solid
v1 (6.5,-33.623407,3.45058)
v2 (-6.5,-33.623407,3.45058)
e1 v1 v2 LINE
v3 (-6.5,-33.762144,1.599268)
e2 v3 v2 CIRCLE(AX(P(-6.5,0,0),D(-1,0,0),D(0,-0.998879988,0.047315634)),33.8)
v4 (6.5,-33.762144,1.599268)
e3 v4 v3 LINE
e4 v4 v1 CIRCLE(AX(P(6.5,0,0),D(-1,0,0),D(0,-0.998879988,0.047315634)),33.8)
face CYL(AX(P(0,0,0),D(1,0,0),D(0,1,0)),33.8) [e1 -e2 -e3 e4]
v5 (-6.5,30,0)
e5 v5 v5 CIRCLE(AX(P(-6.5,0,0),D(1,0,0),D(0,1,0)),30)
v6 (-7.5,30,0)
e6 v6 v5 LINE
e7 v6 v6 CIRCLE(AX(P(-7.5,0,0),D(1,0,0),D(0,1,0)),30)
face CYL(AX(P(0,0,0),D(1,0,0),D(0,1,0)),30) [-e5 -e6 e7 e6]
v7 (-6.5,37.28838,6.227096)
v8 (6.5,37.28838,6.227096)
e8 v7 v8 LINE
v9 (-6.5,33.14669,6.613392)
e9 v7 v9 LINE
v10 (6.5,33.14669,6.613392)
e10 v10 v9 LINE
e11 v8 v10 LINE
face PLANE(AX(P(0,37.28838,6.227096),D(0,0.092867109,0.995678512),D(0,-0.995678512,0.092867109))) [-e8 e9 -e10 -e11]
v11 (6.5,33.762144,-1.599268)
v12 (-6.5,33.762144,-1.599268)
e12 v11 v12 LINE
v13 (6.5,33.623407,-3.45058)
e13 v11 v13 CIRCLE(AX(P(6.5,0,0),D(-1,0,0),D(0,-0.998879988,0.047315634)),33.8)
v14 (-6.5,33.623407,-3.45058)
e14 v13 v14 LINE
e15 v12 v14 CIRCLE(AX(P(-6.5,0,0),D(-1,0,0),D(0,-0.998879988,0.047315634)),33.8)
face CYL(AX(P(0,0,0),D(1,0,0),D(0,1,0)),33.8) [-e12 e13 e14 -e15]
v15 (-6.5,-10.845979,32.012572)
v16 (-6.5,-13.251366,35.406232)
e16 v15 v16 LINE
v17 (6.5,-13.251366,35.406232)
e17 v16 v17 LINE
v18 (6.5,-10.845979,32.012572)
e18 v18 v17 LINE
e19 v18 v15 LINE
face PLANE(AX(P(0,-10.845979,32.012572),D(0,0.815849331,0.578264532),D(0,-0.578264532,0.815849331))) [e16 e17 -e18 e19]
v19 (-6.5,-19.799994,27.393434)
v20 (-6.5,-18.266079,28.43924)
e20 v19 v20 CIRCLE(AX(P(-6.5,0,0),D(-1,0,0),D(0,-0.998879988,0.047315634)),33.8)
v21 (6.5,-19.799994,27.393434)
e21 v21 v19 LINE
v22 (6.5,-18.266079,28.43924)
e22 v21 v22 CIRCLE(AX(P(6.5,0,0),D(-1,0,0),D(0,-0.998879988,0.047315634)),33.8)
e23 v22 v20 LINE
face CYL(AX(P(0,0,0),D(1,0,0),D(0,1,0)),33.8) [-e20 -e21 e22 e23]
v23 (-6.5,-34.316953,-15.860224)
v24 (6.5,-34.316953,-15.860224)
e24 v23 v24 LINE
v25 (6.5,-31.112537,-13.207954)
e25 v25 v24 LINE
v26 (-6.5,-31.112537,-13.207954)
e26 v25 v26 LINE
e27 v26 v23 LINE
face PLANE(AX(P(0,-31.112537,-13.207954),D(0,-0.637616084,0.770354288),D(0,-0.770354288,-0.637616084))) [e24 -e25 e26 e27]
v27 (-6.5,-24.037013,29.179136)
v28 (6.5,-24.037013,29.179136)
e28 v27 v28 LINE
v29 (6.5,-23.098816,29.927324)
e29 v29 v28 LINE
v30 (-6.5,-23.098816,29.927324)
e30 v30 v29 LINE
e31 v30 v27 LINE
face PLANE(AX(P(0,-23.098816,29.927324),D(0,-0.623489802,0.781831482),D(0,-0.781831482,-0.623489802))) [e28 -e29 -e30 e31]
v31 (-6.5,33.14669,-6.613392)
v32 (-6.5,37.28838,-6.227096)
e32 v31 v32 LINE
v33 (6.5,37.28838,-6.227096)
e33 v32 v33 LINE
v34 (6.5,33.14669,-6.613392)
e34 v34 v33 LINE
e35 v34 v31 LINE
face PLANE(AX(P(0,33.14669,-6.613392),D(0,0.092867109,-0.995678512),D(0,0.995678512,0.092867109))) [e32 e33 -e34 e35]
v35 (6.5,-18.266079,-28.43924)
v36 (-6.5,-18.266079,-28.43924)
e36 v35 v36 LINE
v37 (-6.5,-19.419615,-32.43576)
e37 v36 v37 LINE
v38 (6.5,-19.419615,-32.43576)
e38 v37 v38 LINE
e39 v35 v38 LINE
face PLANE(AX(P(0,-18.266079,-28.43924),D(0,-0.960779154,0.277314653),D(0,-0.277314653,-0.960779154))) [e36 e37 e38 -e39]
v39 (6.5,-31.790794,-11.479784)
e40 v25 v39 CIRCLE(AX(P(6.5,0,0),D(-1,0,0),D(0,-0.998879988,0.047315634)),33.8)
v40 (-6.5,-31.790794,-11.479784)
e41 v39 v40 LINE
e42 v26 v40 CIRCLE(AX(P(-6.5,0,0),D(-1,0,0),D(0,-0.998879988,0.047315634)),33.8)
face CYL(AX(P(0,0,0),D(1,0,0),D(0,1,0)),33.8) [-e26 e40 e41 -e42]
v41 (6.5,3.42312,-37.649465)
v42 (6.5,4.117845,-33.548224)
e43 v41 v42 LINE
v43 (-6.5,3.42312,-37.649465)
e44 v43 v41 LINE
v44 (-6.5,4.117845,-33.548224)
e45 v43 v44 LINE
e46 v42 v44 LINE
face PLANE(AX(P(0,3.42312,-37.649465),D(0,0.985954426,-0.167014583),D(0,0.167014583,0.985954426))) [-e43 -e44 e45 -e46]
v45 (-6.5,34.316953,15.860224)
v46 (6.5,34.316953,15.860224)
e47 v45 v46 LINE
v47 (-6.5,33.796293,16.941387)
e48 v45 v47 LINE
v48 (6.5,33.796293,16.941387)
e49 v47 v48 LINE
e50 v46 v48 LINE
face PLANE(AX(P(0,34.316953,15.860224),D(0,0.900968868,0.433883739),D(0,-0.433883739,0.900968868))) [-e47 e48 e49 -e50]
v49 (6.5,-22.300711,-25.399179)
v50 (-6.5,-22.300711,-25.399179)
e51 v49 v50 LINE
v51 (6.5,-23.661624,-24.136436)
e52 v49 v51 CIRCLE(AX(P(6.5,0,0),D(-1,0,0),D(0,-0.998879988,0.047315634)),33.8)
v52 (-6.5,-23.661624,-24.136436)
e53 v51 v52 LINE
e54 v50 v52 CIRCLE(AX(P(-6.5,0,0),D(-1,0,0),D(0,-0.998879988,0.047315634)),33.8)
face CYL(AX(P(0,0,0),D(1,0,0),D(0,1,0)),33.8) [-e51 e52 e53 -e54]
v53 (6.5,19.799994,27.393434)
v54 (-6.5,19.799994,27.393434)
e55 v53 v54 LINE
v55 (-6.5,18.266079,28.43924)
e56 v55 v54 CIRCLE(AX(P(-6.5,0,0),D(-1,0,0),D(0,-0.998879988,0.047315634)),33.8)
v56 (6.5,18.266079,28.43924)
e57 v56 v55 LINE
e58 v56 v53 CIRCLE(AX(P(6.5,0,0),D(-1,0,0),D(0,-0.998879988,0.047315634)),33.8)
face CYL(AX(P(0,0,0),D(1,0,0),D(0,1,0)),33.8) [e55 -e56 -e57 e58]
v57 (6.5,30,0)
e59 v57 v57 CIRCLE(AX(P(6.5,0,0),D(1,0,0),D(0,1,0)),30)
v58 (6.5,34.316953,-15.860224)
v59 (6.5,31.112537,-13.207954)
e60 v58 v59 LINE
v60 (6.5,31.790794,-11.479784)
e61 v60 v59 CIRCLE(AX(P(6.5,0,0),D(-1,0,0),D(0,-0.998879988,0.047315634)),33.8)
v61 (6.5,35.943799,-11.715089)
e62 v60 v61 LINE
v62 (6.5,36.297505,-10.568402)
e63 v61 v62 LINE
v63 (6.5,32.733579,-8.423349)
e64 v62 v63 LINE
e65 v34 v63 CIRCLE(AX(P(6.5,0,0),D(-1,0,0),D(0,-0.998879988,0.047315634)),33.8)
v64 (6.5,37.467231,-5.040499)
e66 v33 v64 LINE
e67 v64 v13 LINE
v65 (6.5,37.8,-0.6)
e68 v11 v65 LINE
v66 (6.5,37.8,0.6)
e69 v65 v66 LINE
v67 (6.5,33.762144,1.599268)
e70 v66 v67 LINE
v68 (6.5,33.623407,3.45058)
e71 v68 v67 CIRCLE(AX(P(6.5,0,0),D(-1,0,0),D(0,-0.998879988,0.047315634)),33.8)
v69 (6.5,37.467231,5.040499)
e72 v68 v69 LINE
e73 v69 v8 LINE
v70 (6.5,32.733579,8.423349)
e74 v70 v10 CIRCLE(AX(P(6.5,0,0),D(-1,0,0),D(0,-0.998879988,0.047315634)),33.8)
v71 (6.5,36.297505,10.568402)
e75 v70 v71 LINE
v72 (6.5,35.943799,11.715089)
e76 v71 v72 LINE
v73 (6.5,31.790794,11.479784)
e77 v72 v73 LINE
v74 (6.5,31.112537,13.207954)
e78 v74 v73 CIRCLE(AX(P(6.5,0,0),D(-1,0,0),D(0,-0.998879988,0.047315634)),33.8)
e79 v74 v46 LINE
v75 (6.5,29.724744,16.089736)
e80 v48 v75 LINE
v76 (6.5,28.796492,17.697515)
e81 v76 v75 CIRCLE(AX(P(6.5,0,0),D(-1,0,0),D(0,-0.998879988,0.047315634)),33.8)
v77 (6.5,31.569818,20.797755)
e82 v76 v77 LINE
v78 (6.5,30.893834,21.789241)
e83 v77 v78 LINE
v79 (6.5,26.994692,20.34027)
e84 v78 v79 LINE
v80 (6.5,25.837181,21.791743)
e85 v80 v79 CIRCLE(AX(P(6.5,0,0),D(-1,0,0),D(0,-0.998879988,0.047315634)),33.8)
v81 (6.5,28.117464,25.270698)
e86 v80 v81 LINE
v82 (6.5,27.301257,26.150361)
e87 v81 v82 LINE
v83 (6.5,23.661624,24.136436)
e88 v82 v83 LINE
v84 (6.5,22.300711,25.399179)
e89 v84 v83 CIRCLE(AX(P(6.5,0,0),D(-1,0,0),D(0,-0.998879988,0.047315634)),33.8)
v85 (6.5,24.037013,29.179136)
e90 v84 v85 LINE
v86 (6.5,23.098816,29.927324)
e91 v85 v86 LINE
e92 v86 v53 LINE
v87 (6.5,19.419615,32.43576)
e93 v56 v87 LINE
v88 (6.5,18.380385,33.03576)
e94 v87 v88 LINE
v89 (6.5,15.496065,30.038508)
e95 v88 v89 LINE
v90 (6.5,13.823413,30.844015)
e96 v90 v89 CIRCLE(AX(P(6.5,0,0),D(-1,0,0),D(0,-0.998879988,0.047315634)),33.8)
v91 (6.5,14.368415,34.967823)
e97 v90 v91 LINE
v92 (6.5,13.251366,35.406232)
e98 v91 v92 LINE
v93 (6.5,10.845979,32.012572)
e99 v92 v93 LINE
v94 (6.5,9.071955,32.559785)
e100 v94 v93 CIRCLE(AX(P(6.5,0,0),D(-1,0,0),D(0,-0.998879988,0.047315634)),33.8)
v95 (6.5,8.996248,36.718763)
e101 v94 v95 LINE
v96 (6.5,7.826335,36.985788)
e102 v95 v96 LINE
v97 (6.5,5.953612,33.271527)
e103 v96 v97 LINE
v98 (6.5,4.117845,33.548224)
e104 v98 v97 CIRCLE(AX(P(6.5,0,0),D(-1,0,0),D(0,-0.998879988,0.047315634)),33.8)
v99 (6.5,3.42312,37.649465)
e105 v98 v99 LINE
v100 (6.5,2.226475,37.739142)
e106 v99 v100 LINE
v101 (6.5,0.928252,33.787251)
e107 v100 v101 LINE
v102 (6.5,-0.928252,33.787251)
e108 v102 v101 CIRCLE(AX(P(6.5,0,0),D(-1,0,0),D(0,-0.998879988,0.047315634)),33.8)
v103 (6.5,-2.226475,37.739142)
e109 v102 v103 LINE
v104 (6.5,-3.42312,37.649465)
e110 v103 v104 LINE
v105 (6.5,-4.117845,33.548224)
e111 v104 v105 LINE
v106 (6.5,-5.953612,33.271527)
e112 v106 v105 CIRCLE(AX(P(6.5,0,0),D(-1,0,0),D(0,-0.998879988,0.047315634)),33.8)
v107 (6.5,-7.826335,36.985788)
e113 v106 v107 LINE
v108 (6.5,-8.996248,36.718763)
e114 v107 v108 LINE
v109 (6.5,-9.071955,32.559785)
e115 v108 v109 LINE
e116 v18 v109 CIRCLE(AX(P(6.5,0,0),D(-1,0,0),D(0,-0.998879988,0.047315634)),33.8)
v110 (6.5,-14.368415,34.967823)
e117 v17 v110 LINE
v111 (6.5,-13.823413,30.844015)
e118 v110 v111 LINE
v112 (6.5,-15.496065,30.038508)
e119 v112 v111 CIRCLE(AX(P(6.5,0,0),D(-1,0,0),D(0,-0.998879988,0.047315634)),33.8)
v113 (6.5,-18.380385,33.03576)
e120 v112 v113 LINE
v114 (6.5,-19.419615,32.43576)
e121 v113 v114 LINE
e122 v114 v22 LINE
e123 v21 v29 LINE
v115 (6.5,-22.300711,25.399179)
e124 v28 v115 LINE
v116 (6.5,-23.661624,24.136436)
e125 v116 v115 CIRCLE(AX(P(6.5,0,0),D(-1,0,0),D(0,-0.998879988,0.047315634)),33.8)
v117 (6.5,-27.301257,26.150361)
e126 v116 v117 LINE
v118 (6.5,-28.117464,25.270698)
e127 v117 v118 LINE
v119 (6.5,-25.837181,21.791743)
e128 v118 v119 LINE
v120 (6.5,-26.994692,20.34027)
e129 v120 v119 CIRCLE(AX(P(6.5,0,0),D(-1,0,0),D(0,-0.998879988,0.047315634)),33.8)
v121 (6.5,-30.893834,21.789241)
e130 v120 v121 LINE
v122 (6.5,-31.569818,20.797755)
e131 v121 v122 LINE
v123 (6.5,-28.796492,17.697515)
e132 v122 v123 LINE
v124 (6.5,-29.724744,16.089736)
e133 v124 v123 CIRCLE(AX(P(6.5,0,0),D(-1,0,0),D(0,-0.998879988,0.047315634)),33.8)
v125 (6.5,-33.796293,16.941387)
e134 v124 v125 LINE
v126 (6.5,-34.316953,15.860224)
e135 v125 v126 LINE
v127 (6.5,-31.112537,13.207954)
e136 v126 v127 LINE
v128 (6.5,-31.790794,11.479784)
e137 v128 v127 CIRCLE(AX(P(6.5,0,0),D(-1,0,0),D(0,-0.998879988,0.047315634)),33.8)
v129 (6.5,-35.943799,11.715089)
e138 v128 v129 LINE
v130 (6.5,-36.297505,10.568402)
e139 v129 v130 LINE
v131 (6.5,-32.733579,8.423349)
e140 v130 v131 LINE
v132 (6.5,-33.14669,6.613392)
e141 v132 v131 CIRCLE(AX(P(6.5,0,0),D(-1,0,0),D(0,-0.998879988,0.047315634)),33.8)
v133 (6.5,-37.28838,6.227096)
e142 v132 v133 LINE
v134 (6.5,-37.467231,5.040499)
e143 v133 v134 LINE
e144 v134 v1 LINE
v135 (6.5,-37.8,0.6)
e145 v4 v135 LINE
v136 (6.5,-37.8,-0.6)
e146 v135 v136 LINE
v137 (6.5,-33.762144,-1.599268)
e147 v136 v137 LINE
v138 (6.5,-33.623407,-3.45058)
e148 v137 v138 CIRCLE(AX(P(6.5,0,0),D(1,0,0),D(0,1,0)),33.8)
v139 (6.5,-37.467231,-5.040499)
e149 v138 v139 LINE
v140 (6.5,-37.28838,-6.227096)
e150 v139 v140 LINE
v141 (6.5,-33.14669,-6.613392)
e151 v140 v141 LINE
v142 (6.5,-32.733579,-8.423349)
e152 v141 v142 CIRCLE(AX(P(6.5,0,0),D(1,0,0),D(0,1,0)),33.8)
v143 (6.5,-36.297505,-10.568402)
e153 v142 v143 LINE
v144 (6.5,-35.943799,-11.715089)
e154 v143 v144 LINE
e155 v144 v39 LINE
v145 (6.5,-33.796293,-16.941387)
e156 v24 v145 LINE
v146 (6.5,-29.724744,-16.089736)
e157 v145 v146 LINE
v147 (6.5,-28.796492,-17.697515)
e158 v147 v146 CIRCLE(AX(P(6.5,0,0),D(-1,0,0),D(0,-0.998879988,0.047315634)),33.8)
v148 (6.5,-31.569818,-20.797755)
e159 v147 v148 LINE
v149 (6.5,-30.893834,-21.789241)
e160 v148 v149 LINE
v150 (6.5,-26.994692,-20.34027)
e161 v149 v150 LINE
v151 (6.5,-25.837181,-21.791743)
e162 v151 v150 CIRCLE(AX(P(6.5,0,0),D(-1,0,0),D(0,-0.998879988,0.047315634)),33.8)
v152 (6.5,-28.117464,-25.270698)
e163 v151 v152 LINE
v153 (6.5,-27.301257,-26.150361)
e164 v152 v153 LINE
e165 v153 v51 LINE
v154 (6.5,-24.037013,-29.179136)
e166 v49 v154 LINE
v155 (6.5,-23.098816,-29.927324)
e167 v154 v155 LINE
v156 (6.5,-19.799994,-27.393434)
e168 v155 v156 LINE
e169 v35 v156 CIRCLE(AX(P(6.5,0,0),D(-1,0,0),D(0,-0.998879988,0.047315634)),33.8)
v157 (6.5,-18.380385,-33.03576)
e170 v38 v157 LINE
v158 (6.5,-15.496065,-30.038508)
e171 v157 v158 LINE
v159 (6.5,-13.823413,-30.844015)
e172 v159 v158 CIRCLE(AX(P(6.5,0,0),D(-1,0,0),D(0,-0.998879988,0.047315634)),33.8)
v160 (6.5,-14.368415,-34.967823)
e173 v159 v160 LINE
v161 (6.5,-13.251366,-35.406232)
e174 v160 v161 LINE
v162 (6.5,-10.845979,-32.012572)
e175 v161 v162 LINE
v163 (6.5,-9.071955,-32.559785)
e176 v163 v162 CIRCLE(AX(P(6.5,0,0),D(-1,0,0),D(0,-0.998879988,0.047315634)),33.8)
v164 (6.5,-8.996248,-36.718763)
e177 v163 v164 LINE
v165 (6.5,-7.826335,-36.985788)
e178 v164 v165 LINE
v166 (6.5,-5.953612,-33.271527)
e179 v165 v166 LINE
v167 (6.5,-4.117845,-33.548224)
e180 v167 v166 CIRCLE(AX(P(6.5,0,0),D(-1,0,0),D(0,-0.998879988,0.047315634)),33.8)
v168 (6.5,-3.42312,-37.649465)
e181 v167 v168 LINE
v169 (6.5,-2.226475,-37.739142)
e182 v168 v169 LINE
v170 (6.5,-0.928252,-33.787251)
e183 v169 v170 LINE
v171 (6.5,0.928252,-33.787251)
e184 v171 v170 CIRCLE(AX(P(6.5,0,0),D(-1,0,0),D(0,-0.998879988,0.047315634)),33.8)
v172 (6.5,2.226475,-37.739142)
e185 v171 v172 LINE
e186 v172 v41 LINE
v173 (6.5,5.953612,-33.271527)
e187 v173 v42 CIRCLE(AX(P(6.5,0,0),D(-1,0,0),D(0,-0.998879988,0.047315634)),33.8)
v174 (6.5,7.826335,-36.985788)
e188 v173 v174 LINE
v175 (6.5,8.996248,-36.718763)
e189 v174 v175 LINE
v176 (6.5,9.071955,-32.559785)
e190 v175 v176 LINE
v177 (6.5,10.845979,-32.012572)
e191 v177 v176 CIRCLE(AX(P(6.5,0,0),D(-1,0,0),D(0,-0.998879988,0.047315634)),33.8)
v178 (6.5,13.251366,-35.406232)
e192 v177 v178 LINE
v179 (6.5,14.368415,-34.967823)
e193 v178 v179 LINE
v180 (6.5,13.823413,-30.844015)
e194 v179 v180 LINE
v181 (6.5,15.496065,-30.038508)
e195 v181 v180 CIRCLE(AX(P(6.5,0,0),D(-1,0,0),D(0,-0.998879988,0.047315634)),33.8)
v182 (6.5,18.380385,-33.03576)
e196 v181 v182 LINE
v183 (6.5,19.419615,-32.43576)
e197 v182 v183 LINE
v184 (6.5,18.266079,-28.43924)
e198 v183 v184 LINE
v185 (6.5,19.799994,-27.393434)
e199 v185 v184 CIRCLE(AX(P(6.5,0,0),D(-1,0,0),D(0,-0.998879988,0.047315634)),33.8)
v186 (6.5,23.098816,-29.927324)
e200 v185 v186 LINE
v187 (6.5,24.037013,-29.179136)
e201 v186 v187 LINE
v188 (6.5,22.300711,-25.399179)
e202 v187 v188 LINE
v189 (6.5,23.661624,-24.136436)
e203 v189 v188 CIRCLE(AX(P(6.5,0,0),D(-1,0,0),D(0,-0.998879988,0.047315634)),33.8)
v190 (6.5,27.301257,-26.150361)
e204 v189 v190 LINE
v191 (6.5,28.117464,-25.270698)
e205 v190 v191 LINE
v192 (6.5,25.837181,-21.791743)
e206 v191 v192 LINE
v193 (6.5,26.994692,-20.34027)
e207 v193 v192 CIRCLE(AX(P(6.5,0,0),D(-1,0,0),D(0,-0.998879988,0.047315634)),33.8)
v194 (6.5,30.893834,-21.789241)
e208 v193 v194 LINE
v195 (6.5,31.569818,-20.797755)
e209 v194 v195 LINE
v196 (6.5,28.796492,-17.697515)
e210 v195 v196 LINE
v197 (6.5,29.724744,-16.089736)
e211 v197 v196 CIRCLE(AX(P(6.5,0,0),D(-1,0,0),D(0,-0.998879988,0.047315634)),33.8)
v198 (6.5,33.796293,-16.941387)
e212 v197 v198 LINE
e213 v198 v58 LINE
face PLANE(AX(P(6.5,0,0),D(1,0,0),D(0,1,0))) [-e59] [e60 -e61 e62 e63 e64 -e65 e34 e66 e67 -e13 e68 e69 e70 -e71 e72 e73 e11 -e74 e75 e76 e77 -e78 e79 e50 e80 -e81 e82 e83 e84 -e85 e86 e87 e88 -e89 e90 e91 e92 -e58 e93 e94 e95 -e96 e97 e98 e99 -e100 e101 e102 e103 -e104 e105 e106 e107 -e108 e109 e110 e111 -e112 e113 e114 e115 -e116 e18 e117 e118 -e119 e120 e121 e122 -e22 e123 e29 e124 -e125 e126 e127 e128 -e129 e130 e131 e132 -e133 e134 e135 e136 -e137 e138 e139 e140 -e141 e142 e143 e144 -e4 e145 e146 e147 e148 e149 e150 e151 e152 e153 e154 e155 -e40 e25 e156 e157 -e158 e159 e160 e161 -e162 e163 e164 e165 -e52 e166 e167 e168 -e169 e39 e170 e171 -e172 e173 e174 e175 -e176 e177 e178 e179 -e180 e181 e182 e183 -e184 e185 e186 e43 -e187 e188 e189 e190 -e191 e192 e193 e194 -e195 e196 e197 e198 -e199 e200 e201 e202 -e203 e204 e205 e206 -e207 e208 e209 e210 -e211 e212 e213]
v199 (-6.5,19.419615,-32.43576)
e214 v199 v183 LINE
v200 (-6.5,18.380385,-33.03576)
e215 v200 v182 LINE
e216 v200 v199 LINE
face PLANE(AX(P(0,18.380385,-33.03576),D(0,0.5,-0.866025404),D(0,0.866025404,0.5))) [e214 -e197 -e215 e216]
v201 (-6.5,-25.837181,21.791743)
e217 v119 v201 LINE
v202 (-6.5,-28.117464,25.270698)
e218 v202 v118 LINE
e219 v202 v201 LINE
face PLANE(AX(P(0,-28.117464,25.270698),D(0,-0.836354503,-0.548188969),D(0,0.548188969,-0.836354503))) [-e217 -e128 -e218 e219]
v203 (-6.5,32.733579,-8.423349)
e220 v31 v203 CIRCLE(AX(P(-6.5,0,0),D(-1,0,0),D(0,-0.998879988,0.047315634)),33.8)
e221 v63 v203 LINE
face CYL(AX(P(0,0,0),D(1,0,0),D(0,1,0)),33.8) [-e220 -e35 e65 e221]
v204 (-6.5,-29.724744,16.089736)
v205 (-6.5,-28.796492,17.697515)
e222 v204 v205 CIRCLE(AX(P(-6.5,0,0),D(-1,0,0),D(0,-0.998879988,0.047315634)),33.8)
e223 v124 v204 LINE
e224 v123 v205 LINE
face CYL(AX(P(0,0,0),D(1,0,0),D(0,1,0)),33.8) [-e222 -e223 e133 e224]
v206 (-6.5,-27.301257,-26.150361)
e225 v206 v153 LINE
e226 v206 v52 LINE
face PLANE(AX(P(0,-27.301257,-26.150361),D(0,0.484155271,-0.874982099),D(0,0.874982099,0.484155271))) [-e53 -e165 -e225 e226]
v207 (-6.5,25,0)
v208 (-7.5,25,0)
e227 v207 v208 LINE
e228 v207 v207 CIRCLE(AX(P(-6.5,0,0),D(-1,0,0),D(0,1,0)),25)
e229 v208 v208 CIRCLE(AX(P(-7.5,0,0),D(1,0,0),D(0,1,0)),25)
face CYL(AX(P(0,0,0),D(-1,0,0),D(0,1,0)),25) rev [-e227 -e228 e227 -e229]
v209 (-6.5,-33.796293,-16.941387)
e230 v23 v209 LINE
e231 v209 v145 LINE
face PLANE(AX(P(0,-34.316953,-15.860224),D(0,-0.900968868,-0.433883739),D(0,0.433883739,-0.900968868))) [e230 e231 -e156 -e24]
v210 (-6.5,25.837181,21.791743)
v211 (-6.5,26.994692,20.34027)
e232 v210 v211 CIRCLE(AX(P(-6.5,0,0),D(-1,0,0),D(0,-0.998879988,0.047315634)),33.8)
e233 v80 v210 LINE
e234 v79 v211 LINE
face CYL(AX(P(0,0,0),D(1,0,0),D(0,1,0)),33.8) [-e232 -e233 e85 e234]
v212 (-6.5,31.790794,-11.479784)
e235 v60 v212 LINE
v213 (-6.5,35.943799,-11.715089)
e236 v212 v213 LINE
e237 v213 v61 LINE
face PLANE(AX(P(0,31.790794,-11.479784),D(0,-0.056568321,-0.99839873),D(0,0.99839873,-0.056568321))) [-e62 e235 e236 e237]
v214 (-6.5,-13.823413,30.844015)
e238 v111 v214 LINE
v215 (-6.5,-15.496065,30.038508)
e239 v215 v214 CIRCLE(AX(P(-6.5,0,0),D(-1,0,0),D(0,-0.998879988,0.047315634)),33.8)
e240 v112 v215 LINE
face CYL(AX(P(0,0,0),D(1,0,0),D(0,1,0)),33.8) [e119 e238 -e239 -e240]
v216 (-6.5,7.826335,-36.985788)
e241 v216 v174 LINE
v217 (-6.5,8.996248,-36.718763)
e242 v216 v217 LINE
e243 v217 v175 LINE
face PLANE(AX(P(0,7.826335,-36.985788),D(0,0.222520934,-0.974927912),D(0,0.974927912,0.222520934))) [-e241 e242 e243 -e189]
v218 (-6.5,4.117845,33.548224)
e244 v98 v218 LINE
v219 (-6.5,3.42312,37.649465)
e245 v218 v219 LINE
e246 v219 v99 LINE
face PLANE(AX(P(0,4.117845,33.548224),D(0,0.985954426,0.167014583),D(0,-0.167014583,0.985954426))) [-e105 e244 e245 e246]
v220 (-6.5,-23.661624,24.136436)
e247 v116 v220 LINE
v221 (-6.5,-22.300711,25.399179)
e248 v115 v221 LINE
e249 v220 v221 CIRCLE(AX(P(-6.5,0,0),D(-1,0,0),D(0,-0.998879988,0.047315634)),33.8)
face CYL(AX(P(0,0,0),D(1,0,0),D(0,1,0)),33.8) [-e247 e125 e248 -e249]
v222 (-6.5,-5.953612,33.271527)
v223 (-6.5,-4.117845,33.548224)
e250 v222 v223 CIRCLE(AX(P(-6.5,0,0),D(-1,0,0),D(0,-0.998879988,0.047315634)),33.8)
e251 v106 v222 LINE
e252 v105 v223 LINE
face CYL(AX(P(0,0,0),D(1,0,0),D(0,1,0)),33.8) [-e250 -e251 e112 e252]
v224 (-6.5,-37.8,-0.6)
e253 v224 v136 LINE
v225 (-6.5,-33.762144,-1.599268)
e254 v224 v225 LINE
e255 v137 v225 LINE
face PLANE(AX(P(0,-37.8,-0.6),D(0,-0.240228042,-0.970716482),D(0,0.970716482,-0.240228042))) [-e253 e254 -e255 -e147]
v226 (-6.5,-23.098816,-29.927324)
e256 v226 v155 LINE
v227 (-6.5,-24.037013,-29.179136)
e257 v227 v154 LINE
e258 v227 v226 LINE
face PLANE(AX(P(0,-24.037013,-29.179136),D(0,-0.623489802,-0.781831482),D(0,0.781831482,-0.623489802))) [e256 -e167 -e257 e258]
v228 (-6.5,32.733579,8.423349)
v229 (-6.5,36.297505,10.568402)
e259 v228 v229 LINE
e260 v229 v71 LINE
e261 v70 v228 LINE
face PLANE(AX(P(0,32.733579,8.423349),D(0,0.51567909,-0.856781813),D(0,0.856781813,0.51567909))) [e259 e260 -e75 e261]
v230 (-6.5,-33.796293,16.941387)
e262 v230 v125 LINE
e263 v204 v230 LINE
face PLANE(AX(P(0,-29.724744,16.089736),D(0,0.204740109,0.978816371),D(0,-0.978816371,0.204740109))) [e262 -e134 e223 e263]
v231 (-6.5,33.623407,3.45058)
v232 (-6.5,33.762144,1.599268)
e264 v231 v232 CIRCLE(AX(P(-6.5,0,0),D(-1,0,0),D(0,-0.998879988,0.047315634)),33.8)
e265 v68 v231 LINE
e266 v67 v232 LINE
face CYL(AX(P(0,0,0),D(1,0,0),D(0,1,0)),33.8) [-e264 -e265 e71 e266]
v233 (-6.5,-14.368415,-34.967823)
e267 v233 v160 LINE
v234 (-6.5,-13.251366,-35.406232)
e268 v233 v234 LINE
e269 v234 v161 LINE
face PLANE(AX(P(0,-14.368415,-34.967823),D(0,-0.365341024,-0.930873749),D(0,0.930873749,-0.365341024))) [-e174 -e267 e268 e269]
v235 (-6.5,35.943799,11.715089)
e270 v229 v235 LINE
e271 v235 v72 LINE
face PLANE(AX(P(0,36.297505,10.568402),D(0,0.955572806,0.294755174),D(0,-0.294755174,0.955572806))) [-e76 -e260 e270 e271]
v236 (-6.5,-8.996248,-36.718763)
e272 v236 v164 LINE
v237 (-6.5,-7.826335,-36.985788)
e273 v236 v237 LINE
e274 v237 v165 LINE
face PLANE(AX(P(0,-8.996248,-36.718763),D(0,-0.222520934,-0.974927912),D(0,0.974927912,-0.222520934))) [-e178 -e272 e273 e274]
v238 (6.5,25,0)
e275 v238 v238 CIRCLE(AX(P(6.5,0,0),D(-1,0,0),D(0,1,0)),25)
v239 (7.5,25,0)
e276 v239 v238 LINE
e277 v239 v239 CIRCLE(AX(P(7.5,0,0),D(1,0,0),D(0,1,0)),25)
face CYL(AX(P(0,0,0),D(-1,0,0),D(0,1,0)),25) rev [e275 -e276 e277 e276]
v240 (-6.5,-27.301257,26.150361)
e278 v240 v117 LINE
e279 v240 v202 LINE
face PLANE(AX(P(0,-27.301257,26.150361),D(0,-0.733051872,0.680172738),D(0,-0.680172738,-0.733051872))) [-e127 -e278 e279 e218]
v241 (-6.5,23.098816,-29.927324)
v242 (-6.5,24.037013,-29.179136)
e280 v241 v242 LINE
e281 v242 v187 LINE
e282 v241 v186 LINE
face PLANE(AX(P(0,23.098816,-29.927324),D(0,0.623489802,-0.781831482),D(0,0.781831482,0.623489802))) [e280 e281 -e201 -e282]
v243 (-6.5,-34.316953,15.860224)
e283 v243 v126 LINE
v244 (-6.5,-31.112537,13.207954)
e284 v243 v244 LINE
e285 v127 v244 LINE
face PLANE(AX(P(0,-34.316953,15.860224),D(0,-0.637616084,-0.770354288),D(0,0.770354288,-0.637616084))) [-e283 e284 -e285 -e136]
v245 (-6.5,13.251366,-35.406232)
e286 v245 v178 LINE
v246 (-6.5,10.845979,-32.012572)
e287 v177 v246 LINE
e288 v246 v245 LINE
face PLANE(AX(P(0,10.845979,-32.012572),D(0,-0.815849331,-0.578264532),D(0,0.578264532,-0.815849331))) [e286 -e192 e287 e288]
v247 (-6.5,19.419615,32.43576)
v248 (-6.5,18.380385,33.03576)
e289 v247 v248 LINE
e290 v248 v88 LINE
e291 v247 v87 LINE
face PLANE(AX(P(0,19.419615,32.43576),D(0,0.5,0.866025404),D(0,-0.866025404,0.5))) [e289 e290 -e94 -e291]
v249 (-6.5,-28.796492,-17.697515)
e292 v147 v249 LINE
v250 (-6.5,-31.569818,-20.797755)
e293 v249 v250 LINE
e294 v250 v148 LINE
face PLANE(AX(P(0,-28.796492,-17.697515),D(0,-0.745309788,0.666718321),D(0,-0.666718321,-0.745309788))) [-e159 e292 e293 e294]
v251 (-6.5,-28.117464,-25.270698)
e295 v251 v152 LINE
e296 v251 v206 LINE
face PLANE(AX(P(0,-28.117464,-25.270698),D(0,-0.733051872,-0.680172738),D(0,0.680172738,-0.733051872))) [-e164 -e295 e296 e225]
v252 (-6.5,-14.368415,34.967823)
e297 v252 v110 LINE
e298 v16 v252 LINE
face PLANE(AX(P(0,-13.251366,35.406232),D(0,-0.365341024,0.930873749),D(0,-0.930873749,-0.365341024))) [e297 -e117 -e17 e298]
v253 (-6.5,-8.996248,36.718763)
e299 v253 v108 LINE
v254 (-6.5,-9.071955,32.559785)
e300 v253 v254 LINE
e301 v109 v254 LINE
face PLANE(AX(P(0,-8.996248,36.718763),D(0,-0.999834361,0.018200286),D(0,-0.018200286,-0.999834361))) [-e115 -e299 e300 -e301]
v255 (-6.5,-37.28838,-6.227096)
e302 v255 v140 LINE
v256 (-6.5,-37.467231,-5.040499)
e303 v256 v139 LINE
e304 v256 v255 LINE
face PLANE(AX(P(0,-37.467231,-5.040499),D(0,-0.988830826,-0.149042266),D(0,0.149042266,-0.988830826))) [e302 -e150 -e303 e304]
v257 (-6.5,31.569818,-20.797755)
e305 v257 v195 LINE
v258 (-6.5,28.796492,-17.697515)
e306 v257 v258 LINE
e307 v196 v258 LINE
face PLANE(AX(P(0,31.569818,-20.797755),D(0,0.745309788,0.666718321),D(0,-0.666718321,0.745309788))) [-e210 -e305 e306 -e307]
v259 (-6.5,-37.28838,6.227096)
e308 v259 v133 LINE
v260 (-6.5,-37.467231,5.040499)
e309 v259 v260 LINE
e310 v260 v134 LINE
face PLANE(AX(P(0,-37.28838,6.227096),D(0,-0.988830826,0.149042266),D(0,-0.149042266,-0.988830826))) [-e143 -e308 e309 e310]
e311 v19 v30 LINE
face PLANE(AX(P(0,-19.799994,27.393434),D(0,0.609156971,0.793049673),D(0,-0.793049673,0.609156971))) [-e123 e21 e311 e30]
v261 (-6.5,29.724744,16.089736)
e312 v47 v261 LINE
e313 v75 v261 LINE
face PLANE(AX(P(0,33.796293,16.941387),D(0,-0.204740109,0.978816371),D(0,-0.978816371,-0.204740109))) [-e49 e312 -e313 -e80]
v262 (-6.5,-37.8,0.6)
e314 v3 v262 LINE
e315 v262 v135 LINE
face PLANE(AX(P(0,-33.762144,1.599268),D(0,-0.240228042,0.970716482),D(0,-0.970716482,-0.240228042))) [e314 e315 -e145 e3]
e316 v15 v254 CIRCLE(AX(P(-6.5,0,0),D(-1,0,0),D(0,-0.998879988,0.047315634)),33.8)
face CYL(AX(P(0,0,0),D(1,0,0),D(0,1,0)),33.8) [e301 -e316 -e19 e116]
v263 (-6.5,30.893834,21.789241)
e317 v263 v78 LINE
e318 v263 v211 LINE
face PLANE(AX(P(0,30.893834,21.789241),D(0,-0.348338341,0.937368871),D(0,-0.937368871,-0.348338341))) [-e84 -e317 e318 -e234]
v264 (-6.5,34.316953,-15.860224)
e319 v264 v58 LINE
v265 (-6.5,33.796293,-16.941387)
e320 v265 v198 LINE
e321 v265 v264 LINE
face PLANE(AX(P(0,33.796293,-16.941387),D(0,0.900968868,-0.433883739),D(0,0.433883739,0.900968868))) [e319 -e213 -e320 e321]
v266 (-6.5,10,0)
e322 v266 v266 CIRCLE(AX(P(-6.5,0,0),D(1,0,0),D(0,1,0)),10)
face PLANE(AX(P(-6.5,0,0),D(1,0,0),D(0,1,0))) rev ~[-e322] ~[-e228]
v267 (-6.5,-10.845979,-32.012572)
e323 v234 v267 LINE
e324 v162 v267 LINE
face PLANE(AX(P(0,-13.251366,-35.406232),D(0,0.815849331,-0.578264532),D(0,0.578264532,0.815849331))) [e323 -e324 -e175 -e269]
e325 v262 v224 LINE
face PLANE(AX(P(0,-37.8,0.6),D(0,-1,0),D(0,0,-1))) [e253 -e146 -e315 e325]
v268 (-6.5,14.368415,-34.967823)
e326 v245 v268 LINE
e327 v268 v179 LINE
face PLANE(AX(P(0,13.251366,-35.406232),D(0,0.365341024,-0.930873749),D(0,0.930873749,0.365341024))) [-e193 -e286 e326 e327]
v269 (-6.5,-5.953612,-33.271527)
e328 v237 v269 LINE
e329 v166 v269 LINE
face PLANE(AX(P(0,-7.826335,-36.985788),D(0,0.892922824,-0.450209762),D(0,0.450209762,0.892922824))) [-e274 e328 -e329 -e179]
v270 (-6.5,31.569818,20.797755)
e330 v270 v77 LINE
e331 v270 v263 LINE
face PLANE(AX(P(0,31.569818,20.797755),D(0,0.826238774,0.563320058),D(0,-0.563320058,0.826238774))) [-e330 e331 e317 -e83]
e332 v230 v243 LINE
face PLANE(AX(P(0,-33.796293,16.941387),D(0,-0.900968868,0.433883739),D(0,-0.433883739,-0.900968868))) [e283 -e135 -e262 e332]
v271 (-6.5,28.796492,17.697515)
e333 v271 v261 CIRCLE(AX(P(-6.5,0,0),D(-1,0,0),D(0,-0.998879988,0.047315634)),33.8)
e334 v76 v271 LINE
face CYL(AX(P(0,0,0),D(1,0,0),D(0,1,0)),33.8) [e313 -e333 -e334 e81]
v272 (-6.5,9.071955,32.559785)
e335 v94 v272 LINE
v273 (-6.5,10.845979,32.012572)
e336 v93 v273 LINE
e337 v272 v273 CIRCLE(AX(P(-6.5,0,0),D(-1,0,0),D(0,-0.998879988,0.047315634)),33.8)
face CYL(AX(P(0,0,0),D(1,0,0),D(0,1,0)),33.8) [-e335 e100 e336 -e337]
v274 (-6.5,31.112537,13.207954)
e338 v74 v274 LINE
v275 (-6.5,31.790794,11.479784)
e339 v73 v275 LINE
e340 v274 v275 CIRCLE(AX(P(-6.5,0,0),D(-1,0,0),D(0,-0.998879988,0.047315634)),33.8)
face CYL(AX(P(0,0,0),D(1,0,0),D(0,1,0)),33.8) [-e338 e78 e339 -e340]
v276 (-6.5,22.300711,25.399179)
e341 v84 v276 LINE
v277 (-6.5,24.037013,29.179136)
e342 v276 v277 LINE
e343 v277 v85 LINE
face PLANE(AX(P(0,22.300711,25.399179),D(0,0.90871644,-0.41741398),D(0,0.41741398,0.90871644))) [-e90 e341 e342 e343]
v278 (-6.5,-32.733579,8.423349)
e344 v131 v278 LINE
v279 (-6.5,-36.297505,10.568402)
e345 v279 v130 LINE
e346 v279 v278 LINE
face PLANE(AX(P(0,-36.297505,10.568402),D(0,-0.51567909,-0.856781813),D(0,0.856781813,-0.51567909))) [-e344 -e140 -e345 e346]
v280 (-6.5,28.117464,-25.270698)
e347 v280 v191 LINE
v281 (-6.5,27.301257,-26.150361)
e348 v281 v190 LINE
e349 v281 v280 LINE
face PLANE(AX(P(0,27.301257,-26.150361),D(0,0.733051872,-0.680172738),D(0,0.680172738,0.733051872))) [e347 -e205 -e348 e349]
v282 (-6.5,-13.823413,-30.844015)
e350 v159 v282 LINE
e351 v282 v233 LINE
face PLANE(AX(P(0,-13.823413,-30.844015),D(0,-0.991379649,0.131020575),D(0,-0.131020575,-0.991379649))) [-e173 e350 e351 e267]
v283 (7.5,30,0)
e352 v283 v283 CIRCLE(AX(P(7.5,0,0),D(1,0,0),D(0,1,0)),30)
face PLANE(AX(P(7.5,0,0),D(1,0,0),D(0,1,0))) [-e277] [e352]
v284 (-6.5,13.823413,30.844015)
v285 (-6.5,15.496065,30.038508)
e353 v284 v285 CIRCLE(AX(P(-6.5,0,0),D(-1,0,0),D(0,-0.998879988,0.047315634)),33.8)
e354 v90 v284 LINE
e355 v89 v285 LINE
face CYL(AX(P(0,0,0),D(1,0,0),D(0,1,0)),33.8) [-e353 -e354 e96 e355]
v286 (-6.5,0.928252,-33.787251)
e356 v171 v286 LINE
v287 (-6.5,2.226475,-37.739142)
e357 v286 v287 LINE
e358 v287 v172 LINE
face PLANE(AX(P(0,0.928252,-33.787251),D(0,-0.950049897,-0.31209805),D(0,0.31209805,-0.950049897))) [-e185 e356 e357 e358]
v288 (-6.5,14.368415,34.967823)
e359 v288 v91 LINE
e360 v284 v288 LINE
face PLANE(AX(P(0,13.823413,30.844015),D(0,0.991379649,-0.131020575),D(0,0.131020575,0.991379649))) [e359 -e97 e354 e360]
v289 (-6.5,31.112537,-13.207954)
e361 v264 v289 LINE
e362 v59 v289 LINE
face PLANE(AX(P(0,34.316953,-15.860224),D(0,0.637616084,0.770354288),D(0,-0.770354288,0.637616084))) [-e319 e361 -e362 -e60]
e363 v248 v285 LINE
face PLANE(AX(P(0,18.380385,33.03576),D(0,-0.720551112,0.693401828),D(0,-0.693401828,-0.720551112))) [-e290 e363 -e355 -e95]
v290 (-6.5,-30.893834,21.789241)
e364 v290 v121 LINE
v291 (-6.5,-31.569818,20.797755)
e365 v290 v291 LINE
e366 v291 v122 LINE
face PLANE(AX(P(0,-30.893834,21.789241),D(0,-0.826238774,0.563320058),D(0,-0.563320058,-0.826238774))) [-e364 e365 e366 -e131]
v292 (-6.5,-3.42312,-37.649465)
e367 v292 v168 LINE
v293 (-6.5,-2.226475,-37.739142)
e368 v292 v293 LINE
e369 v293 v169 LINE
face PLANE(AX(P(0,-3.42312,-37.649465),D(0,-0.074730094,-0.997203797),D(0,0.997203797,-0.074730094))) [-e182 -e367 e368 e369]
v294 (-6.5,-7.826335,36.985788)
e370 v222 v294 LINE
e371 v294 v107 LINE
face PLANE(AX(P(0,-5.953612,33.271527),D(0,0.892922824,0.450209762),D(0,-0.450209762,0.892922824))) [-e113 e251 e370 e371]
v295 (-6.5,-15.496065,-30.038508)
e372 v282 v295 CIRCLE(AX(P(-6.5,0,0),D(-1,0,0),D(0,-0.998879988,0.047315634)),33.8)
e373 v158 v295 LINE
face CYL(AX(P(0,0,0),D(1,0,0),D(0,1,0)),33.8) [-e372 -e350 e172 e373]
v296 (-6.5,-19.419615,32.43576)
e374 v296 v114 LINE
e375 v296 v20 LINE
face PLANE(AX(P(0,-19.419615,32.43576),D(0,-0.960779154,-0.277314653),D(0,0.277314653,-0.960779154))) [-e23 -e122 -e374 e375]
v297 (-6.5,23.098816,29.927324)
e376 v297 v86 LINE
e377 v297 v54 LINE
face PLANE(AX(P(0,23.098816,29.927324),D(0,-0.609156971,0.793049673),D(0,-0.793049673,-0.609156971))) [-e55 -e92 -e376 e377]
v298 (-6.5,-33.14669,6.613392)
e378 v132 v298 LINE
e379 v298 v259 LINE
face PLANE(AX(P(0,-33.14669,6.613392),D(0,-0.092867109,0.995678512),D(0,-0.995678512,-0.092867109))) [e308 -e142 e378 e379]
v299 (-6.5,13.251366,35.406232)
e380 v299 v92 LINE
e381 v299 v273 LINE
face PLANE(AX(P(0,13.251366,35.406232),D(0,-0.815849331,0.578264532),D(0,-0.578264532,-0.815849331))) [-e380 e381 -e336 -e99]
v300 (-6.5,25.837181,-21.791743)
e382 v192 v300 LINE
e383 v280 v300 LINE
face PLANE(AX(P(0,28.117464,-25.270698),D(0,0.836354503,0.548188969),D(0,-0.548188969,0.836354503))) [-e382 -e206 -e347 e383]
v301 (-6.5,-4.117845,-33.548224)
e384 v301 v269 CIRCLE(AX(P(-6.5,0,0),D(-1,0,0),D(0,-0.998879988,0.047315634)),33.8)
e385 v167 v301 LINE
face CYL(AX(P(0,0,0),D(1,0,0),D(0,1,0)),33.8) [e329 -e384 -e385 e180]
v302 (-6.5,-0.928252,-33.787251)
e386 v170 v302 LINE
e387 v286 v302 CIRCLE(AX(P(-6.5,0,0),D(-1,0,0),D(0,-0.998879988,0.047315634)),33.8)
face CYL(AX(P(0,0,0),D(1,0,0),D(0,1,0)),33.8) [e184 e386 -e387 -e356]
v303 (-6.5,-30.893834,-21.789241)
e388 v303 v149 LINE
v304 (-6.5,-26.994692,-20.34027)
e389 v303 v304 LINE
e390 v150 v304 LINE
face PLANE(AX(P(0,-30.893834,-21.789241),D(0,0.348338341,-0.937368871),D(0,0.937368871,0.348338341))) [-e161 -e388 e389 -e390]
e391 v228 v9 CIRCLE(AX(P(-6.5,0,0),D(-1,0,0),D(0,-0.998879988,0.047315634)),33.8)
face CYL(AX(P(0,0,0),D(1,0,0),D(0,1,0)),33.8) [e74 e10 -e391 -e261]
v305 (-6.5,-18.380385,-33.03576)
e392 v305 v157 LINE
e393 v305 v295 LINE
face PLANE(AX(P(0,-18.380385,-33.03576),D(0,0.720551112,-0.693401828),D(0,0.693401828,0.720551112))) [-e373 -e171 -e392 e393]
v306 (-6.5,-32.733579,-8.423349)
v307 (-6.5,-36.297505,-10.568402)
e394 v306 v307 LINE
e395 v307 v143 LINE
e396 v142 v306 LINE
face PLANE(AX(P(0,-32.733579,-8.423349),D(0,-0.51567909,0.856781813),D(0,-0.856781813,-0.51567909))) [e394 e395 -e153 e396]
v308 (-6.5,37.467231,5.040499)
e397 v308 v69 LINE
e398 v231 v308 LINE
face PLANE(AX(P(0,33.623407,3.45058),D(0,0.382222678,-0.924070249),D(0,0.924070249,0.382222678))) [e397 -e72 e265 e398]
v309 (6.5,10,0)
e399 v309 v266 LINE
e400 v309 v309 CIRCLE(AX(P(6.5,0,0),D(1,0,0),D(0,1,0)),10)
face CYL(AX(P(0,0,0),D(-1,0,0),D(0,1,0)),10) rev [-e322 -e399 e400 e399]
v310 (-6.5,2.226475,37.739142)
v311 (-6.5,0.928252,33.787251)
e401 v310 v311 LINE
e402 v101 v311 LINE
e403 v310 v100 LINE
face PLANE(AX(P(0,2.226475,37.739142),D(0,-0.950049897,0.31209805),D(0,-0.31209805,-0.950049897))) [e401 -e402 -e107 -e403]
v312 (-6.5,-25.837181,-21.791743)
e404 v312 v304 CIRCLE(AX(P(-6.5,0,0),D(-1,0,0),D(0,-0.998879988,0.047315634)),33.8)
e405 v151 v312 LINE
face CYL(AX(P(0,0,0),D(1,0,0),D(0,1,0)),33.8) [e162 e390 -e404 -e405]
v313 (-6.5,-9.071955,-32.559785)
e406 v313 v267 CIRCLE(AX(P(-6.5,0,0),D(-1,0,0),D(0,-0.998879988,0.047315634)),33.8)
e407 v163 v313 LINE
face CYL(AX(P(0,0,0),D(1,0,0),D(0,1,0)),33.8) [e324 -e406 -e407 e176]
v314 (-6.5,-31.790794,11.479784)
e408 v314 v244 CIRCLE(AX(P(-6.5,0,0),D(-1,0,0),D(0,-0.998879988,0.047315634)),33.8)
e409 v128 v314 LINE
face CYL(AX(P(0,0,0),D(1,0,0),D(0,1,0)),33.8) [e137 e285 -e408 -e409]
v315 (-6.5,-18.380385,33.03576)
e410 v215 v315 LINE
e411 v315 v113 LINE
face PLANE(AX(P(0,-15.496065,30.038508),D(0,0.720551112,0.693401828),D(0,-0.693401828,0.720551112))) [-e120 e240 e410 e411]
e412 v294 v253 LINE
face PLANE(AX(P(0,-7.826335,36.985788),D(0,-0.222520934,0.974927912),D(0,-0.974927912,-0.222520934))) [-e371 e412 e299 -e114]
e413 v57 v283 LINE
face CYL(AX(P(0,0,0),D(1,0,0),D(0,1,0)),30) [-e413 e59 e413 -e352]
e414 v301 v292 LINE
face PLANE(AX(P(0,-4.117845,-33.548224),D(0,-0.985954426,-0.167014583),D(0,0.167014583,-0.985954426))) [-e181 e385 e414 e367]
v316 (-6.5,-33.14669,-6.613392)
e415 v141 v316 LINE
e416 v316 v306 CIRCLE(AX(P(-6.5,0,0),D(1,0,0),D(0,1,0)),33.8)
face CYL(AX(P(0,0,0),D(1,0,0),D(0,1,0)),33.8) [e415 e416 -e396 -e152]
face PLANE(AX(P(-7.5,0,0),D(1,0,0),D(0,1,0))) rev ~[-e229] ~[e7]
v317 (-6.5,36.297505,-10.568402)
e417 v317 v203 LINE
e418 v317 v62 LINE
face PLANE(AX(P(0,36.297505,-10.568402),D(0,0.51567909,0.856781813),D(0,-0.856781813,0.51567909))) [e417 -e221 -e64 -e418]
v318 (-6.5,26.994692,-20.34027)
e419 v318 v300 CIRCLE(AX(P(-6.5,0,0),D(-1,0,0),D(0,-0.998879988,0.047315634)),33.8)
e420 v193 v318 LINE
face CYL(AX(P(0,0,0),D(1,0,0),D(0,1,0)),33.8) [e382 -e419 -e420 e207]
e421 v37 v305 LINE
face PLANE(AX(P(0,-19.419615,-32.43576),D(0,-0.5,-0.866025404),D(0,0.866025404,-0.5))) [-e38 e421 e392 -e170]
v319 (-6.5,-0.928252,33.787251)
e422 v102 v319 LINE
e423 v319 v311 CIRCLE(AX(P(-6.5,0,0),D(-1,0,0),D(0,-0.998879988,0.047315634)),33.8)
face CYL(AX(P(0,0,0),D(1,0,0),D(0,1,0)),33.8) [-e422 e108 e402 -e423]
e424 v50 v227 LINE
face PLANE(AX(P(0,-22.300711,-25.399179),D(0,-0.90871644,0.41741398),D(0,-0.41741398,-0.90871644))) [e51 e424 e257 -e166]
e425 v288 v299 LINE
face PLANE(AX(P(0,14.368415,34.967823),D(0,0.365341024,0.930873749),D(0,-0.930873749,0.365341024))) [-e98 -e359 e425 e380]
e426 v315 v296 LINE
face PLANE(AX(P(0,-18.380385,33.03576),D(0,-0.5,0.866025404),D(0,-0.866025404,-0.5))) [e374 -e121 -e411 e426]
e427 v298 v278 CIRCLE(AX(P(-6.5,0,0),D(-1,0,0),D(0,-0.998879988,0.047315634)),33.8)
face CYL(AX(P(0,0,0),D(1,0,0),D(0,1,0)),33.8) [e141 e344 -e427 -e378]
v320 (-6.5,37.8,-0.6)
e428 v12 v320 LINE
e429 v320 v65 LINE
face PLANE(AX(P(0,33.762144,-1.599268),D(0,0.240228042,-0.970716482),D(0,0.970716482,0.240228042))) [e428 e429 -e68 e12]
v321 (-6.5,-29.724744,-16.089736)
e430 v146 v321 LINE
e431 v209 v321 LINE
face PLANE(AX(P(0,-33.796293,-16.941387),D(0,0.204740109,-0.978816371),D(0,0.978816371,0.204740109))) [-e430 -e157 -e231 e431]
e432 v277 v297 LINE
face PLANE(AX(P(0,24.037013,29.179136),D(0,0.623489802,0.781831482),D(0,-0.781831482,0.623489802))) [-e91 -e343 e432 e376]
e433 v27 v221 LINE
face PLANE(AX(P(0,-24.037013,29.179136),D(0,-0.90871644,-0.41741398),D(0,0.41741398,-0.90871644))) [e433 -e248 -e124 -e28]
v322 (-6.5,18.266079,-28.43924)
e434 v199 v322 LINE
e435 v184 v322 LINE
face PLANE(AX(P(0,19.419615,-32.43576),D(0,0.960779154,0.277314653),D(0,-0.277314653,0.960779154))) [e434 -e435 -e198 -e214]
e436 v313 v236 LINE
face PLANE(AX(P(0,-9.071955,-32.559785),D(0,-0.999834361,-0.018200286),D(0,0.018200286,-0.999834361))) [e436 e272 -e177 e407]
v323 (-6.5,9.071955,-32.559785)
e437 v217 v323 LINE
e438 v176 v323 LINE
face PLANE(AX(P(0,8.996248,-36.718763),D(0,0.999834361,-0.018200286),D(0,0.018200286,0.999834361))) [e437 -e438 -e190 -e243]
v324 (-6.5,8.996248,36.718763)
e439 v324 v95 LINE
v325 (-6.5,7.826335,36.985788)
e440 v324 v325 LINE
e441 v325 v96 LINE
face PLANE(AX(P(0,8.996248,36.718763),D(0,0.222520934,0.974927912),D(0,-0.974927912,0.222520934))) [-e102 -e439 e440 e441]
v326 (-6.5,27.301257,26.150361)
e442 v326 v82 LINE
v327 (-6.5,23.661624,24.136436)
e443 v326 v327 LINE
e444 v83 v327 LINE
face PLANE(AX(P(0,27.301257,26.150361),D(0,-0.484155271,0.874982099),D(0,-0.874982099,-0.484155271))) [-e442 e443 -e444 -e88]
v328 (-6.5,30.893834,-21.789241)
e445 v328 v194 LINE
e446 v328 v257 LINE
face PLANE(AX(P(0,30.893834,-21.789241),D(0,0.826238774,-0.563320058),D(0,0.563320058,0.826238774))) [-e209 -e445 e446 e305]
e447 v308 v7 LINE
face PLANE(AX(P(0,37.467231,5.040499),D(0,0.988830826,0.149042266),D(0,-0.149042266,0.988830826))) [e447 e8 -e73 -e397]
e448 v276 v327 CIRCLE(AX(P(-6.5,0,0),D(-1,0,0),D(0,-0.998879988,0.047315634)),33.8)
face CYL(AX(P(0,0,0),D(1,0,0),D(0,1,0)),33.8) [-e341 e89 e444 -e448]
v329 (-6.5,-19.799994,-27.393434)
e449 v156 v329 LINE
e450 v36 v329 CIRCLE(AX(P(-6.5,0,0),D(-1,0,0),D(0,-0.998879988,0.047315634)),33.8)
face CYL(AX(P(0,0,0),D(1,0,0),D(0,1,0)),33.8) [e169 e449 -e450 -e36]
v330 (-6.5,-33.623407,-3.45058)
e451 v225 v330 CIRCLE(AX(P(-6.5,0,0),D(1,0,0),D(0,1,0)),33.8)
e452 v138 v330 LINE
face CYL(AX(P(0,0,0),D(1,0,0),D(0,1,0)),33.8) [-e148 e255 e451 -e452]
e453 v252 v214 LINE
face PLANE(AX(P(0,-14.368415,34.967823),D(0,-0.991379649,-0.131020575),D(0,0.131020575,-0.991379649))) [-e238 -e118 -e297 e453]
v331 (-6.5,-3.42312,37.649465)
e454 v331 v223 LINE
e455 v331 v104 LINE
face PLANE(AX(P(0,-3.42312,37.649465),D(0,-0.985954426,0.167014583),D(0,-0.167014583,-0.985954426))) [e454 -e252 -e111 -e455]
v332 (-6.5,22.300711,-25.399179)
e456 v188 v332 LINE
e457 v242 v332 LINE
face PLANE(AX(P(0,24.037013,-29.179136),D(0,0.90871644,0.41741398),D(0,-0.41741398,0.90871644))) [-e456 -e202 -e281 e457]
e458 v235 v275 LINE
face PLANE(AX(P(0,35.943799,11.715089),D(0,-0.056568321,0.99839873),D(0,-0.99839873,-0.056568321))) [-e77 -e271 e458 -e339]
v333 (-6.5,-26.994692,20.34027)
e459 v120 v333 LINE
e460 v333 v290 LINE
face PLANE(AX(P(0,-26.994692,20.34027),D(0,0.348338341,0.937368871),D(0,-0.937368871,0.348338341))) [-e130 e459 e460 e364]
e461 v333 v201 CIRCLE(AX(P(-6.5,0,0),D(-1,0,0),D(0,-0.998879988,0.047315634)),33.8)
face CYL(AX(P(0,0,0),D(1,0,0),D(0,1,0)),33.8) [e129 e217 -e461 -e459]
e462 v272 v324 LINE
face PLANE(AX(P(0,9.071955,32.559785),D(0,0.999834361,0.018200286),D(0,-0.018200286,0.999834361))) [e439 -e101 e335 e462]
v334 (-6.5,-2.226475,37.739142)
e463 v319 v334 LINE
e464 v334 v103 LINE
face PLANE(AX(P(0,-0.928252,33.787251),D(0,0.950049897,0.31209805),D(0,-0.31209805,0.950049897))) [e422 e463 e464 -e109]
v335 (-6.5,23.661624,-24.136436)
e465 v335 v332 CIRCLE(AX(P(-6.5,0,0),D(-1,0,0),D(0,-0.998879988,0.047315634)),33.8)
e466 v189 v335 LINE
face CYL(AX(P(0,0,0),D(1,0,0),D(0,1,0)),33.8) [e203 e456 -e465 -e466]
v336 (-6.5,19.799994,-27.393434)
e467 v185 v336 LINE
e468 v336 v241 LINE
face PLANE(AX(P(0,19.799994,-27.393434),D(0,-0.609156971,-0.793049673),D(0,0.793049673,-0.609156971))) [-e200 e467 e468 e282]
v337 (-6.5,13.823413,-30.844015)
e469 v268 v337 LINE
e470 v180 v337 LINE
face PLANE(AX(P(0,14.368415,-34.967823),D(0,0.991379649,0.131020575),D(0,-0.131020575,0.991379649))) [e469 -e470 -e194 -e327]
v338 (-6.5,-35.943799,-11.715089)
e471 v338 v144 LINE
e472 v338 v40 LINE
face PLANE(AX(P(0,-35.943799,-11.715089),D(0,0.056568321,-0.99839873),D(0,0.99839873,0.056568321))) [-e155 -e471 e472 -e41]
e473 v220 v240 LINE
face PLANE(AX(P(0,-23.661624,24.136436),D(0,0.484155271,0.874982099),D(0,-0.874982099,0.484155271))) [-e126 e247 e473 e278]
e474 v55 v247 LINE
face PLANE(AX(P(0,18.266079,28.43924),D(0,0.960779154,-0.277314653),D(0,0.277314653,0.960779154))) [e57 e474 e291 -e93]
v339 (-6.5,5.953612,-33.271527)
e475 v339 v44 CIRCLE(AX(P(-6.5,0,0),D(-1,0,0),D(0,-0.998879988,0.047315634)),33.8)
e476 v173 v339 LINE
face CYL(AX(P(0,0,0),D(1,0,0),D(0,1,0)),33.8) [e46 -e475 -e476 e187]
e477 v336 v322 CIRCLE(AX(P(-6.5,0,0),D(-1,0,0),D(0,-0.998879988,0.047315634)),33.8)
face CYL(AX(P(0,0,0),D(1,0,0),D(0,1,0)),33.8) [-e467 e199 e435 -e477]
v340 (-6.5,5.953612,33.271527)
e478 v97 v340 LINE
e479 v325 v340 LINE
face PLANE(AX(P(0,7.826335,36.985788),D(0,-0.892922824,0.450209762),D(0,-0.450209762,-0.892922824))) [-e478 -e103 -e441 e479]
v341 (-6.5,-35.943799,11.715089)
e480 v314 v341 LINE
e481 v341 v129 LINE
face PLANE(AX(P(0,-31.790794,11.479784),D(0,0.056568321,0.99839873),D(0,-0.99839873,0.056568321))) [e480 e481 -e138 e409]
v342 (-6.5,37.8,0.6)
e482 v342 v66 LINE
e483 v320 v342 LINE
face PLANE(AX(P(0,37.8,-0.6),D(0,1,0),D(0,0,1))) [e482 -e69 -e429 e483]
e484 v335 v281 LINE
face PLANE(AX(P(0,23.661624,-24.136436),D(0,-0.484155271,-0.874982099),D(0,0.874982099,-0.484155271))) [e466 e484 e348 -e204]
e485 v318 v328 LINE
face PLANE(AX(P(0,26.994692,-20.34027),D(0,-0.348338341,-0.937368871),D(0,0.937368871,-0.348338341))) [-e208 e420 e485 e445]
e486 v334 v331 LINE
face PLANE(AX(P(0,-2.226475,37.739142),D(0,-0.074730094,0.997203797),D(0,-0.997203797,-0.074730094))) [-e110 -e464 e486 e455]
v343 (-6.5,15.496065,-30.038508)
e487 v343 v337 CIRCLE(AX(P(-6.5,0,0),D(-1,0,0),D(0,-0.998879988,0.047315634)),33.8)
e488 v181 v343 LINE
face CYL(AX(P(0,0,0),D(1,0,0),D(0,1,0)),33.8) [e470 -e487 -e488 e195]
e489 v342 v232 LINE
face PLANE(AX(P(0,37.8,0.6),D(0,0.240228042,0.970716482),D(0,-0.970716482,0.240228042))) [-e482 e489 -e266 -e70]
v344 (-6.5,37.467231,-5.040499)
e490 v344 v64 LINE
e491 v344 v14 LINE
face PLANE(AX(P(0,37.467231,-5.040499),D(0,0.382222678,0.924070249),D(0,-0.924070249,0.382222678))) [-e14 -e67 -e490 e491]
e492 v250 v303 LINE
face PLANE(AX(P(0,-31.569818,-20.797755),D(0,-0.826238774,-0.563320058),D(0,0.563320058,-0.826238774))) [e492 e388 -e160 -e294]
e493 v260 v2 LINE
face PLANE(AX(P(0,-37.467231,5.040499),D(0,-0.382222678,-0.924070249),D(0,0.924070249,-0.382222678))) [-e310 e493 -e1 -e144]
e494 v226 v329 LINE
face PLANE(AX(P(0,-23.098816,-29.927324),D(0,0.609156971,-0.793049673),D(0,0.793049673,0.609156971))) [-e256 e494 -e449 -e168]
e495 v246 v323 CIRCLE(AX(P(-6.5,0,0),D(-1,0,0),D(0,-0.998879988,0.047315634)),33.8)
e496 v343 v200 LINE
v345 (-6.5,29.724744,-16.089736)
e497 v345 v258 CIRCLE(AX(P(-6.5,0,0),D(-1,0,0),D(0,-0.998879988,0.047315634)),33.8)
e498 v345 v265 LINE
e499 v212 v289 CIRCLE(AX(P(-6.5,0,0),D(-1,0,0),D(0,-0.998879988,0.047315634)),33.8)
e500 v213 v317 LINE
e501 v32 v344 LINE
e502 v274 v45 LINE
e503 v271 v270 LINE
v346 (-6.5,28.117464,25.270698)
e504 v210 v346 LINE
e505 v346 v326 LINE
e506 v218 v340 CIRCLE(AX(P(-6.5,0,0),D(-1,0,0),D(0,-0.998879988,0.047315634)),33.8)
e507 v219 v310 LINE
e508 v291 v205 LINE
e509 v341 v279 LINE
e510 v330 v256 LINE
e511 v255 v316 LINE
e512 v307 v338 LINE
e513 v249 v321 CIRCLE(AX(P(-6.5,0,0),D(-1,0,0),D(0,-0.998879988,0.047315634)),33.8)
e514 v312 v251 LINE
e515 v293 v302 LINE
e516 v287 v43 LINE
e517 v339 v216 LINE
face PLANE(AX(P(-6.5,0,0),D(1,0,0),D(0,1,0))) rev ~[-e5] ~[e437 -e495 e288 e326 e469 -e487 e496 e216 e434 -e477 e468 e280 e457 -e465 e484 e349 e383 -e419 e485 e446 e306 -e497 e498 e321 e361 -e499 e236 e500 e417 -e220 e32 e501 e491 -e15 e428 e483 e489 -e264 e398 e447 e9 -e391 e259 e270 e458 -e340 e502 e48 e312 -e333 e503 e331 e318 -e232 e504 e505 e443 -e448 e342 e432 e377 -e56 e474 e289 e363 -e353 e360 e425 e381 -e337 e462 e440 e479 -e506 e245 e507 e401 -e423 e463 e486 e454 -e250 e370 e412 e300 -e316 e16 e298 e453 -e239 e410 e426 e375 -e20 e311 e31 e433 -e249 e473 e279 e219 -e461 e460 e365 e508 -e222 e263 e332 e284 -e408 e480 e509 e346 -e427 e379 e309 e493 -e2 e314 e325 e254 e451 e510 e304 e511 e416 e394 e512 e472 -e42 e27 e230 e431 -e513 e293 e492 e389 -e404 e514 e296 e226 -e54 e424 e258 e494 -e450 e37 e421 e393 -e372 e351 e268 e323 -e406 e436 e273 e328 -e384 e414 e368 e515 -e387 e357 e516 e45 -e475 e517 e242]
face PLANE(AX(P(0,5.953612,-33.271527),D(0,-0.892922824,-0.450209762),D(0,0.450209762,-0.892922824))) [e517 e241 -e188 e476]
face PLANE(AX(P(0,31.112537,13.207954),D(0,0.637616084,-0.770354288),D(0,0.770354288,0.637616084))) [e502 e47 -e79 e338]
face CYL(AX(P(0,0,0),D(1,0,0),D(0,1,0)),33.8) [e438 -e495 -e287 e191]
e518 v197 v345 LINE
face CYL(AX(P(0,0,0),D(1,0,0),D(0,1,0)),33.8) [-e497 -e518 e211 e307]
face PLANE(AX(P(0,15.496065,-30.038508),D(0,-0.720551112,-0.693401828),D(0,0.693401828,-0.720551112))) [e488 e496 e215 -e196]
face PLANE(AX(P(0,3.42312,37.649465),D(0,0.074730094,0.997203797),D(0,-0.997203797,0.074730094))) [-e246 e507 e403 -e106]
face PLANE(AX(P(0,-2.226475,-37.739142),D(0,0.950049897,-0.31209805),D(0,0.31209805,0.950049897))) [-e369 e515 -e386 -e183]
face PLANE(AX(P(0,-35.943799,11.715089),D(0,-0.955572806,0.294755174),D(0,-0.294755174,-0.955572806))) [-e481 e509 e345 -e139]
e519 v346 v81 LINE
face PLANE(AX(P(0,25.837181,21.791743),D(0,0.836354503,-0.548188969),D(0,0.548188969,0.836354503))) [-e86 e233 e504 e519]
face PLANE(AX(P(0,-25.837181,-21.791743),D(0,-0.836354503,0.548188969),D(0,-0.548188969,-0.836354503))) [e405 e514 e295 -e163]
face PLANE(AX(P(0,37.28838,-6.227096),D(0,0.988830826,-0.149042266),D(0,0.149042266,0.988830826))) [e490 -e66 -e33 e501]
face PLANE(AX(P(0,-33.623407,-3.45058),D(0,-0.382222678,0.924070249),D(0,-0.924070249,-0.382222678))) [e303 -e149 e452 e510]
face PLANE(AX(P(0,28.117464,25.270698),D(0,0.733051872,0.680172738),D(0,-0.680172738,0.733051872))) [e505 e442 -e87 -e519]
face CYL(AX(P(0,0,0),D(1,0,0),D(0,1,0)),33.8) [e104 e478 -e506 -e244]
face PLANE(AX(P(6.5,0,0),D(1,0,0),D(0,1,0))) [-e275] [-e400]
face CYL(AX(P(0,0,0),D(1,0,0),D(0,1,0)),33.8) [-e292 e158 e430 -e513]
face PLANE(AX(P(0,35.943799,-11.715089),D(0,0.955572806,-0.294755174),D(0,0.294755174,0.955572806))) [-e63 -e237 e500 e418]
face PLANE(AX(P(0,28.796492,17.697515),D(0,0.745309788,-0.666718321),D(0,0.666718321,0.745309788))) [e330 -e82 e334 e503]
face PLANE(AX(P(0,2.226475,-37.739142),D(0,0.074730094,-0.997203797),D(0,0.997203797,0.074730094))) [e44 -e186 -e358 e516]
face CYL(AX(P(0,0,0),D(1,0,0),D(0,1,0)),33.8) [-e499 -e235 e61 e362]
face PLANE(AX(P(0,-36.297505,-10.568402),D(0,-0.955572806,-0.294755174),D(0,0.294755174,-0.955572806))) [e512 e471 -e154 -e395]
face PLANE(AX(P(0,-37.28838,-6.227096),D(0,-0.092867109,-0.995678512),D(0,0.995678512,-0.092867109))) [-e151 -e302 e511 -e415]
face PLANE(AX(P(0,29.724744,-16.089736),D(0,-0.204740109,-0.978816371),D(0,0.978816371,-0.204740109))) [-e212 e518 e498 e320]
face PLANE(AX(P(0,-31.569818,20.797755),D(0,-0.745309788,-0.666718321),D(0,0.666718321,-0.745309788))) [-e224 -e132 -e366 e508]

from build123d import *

# Parameters (mm, degrees)
SKETCH1_R           = 33.8
SKETCH1_R_2         = 10
BOSS_EXTRUDE1_DEPTH = 6.5
SKETCH1_3_R         = 30
SKETCH1_3_R_2       = 25
BOSS_EXTRUDE2_DEPTH = 7.5
BOSS_EXTRUDE3_DEPTH = 6.5
CIRPATTERN1_COUNT   = 42


with BuildPart() as part:
    # Sketch1 → Boss-Extrude1 (new, symmetric)
    with BuildSketch(Plane.YZ):
        Circle(SKETCH1_R)
        Circle(SKETCH1_R_2, mode=Mode.SUBTRACT)
    extrude(amount=BOSS_EXTRUDE1_DEPTH, both=True)

    # Sketch1<3> → Boss-Extrude2 (add, symmetric)
    with BuildSketch(Plane.YZ):
        Circle(SKETCH1_3_R)
        Circle(SKETCH1_3_R_2, mode=Mode.SUBTRACT)
    extrude(amount=BOSS_EXTRUDE2_DEPTH, both=True)

    # Sketch1<4> → Boss-Extrude3 (add, symmetric)
    with BuildSketch(Plane.YZ):
        with BuildLine():
            Line((-33.7621436, 1.599268434), (-37.8, 0.6))
            Line((-37.8, 0.6), (-37.8, -0.6))
            Line((-37.8, -0.6), (-33.7621436, -1.599268434))
            ThreePointArc((-33.7621436, -1.599268434), (-33.8, 0), (-33.7621436, 1.599268434))
        make_face()
    boss_extrude3 = extrude(amount=BOSS_EXTRUDE3_DEPTH, both=True)

    # CirPattern1: Boss-Extrude3 ×42 about axis
    cirpattern1_axis = Axis((6.5, 0, 0), (1, 0, 0))
    for i in range(1, CIRPATTERN1_COUNT):
        add(boss_extrude3.rotate(cirpattern1_axis, i * 360 / CIRPATTERN1_COUNT))


solid = part.part
